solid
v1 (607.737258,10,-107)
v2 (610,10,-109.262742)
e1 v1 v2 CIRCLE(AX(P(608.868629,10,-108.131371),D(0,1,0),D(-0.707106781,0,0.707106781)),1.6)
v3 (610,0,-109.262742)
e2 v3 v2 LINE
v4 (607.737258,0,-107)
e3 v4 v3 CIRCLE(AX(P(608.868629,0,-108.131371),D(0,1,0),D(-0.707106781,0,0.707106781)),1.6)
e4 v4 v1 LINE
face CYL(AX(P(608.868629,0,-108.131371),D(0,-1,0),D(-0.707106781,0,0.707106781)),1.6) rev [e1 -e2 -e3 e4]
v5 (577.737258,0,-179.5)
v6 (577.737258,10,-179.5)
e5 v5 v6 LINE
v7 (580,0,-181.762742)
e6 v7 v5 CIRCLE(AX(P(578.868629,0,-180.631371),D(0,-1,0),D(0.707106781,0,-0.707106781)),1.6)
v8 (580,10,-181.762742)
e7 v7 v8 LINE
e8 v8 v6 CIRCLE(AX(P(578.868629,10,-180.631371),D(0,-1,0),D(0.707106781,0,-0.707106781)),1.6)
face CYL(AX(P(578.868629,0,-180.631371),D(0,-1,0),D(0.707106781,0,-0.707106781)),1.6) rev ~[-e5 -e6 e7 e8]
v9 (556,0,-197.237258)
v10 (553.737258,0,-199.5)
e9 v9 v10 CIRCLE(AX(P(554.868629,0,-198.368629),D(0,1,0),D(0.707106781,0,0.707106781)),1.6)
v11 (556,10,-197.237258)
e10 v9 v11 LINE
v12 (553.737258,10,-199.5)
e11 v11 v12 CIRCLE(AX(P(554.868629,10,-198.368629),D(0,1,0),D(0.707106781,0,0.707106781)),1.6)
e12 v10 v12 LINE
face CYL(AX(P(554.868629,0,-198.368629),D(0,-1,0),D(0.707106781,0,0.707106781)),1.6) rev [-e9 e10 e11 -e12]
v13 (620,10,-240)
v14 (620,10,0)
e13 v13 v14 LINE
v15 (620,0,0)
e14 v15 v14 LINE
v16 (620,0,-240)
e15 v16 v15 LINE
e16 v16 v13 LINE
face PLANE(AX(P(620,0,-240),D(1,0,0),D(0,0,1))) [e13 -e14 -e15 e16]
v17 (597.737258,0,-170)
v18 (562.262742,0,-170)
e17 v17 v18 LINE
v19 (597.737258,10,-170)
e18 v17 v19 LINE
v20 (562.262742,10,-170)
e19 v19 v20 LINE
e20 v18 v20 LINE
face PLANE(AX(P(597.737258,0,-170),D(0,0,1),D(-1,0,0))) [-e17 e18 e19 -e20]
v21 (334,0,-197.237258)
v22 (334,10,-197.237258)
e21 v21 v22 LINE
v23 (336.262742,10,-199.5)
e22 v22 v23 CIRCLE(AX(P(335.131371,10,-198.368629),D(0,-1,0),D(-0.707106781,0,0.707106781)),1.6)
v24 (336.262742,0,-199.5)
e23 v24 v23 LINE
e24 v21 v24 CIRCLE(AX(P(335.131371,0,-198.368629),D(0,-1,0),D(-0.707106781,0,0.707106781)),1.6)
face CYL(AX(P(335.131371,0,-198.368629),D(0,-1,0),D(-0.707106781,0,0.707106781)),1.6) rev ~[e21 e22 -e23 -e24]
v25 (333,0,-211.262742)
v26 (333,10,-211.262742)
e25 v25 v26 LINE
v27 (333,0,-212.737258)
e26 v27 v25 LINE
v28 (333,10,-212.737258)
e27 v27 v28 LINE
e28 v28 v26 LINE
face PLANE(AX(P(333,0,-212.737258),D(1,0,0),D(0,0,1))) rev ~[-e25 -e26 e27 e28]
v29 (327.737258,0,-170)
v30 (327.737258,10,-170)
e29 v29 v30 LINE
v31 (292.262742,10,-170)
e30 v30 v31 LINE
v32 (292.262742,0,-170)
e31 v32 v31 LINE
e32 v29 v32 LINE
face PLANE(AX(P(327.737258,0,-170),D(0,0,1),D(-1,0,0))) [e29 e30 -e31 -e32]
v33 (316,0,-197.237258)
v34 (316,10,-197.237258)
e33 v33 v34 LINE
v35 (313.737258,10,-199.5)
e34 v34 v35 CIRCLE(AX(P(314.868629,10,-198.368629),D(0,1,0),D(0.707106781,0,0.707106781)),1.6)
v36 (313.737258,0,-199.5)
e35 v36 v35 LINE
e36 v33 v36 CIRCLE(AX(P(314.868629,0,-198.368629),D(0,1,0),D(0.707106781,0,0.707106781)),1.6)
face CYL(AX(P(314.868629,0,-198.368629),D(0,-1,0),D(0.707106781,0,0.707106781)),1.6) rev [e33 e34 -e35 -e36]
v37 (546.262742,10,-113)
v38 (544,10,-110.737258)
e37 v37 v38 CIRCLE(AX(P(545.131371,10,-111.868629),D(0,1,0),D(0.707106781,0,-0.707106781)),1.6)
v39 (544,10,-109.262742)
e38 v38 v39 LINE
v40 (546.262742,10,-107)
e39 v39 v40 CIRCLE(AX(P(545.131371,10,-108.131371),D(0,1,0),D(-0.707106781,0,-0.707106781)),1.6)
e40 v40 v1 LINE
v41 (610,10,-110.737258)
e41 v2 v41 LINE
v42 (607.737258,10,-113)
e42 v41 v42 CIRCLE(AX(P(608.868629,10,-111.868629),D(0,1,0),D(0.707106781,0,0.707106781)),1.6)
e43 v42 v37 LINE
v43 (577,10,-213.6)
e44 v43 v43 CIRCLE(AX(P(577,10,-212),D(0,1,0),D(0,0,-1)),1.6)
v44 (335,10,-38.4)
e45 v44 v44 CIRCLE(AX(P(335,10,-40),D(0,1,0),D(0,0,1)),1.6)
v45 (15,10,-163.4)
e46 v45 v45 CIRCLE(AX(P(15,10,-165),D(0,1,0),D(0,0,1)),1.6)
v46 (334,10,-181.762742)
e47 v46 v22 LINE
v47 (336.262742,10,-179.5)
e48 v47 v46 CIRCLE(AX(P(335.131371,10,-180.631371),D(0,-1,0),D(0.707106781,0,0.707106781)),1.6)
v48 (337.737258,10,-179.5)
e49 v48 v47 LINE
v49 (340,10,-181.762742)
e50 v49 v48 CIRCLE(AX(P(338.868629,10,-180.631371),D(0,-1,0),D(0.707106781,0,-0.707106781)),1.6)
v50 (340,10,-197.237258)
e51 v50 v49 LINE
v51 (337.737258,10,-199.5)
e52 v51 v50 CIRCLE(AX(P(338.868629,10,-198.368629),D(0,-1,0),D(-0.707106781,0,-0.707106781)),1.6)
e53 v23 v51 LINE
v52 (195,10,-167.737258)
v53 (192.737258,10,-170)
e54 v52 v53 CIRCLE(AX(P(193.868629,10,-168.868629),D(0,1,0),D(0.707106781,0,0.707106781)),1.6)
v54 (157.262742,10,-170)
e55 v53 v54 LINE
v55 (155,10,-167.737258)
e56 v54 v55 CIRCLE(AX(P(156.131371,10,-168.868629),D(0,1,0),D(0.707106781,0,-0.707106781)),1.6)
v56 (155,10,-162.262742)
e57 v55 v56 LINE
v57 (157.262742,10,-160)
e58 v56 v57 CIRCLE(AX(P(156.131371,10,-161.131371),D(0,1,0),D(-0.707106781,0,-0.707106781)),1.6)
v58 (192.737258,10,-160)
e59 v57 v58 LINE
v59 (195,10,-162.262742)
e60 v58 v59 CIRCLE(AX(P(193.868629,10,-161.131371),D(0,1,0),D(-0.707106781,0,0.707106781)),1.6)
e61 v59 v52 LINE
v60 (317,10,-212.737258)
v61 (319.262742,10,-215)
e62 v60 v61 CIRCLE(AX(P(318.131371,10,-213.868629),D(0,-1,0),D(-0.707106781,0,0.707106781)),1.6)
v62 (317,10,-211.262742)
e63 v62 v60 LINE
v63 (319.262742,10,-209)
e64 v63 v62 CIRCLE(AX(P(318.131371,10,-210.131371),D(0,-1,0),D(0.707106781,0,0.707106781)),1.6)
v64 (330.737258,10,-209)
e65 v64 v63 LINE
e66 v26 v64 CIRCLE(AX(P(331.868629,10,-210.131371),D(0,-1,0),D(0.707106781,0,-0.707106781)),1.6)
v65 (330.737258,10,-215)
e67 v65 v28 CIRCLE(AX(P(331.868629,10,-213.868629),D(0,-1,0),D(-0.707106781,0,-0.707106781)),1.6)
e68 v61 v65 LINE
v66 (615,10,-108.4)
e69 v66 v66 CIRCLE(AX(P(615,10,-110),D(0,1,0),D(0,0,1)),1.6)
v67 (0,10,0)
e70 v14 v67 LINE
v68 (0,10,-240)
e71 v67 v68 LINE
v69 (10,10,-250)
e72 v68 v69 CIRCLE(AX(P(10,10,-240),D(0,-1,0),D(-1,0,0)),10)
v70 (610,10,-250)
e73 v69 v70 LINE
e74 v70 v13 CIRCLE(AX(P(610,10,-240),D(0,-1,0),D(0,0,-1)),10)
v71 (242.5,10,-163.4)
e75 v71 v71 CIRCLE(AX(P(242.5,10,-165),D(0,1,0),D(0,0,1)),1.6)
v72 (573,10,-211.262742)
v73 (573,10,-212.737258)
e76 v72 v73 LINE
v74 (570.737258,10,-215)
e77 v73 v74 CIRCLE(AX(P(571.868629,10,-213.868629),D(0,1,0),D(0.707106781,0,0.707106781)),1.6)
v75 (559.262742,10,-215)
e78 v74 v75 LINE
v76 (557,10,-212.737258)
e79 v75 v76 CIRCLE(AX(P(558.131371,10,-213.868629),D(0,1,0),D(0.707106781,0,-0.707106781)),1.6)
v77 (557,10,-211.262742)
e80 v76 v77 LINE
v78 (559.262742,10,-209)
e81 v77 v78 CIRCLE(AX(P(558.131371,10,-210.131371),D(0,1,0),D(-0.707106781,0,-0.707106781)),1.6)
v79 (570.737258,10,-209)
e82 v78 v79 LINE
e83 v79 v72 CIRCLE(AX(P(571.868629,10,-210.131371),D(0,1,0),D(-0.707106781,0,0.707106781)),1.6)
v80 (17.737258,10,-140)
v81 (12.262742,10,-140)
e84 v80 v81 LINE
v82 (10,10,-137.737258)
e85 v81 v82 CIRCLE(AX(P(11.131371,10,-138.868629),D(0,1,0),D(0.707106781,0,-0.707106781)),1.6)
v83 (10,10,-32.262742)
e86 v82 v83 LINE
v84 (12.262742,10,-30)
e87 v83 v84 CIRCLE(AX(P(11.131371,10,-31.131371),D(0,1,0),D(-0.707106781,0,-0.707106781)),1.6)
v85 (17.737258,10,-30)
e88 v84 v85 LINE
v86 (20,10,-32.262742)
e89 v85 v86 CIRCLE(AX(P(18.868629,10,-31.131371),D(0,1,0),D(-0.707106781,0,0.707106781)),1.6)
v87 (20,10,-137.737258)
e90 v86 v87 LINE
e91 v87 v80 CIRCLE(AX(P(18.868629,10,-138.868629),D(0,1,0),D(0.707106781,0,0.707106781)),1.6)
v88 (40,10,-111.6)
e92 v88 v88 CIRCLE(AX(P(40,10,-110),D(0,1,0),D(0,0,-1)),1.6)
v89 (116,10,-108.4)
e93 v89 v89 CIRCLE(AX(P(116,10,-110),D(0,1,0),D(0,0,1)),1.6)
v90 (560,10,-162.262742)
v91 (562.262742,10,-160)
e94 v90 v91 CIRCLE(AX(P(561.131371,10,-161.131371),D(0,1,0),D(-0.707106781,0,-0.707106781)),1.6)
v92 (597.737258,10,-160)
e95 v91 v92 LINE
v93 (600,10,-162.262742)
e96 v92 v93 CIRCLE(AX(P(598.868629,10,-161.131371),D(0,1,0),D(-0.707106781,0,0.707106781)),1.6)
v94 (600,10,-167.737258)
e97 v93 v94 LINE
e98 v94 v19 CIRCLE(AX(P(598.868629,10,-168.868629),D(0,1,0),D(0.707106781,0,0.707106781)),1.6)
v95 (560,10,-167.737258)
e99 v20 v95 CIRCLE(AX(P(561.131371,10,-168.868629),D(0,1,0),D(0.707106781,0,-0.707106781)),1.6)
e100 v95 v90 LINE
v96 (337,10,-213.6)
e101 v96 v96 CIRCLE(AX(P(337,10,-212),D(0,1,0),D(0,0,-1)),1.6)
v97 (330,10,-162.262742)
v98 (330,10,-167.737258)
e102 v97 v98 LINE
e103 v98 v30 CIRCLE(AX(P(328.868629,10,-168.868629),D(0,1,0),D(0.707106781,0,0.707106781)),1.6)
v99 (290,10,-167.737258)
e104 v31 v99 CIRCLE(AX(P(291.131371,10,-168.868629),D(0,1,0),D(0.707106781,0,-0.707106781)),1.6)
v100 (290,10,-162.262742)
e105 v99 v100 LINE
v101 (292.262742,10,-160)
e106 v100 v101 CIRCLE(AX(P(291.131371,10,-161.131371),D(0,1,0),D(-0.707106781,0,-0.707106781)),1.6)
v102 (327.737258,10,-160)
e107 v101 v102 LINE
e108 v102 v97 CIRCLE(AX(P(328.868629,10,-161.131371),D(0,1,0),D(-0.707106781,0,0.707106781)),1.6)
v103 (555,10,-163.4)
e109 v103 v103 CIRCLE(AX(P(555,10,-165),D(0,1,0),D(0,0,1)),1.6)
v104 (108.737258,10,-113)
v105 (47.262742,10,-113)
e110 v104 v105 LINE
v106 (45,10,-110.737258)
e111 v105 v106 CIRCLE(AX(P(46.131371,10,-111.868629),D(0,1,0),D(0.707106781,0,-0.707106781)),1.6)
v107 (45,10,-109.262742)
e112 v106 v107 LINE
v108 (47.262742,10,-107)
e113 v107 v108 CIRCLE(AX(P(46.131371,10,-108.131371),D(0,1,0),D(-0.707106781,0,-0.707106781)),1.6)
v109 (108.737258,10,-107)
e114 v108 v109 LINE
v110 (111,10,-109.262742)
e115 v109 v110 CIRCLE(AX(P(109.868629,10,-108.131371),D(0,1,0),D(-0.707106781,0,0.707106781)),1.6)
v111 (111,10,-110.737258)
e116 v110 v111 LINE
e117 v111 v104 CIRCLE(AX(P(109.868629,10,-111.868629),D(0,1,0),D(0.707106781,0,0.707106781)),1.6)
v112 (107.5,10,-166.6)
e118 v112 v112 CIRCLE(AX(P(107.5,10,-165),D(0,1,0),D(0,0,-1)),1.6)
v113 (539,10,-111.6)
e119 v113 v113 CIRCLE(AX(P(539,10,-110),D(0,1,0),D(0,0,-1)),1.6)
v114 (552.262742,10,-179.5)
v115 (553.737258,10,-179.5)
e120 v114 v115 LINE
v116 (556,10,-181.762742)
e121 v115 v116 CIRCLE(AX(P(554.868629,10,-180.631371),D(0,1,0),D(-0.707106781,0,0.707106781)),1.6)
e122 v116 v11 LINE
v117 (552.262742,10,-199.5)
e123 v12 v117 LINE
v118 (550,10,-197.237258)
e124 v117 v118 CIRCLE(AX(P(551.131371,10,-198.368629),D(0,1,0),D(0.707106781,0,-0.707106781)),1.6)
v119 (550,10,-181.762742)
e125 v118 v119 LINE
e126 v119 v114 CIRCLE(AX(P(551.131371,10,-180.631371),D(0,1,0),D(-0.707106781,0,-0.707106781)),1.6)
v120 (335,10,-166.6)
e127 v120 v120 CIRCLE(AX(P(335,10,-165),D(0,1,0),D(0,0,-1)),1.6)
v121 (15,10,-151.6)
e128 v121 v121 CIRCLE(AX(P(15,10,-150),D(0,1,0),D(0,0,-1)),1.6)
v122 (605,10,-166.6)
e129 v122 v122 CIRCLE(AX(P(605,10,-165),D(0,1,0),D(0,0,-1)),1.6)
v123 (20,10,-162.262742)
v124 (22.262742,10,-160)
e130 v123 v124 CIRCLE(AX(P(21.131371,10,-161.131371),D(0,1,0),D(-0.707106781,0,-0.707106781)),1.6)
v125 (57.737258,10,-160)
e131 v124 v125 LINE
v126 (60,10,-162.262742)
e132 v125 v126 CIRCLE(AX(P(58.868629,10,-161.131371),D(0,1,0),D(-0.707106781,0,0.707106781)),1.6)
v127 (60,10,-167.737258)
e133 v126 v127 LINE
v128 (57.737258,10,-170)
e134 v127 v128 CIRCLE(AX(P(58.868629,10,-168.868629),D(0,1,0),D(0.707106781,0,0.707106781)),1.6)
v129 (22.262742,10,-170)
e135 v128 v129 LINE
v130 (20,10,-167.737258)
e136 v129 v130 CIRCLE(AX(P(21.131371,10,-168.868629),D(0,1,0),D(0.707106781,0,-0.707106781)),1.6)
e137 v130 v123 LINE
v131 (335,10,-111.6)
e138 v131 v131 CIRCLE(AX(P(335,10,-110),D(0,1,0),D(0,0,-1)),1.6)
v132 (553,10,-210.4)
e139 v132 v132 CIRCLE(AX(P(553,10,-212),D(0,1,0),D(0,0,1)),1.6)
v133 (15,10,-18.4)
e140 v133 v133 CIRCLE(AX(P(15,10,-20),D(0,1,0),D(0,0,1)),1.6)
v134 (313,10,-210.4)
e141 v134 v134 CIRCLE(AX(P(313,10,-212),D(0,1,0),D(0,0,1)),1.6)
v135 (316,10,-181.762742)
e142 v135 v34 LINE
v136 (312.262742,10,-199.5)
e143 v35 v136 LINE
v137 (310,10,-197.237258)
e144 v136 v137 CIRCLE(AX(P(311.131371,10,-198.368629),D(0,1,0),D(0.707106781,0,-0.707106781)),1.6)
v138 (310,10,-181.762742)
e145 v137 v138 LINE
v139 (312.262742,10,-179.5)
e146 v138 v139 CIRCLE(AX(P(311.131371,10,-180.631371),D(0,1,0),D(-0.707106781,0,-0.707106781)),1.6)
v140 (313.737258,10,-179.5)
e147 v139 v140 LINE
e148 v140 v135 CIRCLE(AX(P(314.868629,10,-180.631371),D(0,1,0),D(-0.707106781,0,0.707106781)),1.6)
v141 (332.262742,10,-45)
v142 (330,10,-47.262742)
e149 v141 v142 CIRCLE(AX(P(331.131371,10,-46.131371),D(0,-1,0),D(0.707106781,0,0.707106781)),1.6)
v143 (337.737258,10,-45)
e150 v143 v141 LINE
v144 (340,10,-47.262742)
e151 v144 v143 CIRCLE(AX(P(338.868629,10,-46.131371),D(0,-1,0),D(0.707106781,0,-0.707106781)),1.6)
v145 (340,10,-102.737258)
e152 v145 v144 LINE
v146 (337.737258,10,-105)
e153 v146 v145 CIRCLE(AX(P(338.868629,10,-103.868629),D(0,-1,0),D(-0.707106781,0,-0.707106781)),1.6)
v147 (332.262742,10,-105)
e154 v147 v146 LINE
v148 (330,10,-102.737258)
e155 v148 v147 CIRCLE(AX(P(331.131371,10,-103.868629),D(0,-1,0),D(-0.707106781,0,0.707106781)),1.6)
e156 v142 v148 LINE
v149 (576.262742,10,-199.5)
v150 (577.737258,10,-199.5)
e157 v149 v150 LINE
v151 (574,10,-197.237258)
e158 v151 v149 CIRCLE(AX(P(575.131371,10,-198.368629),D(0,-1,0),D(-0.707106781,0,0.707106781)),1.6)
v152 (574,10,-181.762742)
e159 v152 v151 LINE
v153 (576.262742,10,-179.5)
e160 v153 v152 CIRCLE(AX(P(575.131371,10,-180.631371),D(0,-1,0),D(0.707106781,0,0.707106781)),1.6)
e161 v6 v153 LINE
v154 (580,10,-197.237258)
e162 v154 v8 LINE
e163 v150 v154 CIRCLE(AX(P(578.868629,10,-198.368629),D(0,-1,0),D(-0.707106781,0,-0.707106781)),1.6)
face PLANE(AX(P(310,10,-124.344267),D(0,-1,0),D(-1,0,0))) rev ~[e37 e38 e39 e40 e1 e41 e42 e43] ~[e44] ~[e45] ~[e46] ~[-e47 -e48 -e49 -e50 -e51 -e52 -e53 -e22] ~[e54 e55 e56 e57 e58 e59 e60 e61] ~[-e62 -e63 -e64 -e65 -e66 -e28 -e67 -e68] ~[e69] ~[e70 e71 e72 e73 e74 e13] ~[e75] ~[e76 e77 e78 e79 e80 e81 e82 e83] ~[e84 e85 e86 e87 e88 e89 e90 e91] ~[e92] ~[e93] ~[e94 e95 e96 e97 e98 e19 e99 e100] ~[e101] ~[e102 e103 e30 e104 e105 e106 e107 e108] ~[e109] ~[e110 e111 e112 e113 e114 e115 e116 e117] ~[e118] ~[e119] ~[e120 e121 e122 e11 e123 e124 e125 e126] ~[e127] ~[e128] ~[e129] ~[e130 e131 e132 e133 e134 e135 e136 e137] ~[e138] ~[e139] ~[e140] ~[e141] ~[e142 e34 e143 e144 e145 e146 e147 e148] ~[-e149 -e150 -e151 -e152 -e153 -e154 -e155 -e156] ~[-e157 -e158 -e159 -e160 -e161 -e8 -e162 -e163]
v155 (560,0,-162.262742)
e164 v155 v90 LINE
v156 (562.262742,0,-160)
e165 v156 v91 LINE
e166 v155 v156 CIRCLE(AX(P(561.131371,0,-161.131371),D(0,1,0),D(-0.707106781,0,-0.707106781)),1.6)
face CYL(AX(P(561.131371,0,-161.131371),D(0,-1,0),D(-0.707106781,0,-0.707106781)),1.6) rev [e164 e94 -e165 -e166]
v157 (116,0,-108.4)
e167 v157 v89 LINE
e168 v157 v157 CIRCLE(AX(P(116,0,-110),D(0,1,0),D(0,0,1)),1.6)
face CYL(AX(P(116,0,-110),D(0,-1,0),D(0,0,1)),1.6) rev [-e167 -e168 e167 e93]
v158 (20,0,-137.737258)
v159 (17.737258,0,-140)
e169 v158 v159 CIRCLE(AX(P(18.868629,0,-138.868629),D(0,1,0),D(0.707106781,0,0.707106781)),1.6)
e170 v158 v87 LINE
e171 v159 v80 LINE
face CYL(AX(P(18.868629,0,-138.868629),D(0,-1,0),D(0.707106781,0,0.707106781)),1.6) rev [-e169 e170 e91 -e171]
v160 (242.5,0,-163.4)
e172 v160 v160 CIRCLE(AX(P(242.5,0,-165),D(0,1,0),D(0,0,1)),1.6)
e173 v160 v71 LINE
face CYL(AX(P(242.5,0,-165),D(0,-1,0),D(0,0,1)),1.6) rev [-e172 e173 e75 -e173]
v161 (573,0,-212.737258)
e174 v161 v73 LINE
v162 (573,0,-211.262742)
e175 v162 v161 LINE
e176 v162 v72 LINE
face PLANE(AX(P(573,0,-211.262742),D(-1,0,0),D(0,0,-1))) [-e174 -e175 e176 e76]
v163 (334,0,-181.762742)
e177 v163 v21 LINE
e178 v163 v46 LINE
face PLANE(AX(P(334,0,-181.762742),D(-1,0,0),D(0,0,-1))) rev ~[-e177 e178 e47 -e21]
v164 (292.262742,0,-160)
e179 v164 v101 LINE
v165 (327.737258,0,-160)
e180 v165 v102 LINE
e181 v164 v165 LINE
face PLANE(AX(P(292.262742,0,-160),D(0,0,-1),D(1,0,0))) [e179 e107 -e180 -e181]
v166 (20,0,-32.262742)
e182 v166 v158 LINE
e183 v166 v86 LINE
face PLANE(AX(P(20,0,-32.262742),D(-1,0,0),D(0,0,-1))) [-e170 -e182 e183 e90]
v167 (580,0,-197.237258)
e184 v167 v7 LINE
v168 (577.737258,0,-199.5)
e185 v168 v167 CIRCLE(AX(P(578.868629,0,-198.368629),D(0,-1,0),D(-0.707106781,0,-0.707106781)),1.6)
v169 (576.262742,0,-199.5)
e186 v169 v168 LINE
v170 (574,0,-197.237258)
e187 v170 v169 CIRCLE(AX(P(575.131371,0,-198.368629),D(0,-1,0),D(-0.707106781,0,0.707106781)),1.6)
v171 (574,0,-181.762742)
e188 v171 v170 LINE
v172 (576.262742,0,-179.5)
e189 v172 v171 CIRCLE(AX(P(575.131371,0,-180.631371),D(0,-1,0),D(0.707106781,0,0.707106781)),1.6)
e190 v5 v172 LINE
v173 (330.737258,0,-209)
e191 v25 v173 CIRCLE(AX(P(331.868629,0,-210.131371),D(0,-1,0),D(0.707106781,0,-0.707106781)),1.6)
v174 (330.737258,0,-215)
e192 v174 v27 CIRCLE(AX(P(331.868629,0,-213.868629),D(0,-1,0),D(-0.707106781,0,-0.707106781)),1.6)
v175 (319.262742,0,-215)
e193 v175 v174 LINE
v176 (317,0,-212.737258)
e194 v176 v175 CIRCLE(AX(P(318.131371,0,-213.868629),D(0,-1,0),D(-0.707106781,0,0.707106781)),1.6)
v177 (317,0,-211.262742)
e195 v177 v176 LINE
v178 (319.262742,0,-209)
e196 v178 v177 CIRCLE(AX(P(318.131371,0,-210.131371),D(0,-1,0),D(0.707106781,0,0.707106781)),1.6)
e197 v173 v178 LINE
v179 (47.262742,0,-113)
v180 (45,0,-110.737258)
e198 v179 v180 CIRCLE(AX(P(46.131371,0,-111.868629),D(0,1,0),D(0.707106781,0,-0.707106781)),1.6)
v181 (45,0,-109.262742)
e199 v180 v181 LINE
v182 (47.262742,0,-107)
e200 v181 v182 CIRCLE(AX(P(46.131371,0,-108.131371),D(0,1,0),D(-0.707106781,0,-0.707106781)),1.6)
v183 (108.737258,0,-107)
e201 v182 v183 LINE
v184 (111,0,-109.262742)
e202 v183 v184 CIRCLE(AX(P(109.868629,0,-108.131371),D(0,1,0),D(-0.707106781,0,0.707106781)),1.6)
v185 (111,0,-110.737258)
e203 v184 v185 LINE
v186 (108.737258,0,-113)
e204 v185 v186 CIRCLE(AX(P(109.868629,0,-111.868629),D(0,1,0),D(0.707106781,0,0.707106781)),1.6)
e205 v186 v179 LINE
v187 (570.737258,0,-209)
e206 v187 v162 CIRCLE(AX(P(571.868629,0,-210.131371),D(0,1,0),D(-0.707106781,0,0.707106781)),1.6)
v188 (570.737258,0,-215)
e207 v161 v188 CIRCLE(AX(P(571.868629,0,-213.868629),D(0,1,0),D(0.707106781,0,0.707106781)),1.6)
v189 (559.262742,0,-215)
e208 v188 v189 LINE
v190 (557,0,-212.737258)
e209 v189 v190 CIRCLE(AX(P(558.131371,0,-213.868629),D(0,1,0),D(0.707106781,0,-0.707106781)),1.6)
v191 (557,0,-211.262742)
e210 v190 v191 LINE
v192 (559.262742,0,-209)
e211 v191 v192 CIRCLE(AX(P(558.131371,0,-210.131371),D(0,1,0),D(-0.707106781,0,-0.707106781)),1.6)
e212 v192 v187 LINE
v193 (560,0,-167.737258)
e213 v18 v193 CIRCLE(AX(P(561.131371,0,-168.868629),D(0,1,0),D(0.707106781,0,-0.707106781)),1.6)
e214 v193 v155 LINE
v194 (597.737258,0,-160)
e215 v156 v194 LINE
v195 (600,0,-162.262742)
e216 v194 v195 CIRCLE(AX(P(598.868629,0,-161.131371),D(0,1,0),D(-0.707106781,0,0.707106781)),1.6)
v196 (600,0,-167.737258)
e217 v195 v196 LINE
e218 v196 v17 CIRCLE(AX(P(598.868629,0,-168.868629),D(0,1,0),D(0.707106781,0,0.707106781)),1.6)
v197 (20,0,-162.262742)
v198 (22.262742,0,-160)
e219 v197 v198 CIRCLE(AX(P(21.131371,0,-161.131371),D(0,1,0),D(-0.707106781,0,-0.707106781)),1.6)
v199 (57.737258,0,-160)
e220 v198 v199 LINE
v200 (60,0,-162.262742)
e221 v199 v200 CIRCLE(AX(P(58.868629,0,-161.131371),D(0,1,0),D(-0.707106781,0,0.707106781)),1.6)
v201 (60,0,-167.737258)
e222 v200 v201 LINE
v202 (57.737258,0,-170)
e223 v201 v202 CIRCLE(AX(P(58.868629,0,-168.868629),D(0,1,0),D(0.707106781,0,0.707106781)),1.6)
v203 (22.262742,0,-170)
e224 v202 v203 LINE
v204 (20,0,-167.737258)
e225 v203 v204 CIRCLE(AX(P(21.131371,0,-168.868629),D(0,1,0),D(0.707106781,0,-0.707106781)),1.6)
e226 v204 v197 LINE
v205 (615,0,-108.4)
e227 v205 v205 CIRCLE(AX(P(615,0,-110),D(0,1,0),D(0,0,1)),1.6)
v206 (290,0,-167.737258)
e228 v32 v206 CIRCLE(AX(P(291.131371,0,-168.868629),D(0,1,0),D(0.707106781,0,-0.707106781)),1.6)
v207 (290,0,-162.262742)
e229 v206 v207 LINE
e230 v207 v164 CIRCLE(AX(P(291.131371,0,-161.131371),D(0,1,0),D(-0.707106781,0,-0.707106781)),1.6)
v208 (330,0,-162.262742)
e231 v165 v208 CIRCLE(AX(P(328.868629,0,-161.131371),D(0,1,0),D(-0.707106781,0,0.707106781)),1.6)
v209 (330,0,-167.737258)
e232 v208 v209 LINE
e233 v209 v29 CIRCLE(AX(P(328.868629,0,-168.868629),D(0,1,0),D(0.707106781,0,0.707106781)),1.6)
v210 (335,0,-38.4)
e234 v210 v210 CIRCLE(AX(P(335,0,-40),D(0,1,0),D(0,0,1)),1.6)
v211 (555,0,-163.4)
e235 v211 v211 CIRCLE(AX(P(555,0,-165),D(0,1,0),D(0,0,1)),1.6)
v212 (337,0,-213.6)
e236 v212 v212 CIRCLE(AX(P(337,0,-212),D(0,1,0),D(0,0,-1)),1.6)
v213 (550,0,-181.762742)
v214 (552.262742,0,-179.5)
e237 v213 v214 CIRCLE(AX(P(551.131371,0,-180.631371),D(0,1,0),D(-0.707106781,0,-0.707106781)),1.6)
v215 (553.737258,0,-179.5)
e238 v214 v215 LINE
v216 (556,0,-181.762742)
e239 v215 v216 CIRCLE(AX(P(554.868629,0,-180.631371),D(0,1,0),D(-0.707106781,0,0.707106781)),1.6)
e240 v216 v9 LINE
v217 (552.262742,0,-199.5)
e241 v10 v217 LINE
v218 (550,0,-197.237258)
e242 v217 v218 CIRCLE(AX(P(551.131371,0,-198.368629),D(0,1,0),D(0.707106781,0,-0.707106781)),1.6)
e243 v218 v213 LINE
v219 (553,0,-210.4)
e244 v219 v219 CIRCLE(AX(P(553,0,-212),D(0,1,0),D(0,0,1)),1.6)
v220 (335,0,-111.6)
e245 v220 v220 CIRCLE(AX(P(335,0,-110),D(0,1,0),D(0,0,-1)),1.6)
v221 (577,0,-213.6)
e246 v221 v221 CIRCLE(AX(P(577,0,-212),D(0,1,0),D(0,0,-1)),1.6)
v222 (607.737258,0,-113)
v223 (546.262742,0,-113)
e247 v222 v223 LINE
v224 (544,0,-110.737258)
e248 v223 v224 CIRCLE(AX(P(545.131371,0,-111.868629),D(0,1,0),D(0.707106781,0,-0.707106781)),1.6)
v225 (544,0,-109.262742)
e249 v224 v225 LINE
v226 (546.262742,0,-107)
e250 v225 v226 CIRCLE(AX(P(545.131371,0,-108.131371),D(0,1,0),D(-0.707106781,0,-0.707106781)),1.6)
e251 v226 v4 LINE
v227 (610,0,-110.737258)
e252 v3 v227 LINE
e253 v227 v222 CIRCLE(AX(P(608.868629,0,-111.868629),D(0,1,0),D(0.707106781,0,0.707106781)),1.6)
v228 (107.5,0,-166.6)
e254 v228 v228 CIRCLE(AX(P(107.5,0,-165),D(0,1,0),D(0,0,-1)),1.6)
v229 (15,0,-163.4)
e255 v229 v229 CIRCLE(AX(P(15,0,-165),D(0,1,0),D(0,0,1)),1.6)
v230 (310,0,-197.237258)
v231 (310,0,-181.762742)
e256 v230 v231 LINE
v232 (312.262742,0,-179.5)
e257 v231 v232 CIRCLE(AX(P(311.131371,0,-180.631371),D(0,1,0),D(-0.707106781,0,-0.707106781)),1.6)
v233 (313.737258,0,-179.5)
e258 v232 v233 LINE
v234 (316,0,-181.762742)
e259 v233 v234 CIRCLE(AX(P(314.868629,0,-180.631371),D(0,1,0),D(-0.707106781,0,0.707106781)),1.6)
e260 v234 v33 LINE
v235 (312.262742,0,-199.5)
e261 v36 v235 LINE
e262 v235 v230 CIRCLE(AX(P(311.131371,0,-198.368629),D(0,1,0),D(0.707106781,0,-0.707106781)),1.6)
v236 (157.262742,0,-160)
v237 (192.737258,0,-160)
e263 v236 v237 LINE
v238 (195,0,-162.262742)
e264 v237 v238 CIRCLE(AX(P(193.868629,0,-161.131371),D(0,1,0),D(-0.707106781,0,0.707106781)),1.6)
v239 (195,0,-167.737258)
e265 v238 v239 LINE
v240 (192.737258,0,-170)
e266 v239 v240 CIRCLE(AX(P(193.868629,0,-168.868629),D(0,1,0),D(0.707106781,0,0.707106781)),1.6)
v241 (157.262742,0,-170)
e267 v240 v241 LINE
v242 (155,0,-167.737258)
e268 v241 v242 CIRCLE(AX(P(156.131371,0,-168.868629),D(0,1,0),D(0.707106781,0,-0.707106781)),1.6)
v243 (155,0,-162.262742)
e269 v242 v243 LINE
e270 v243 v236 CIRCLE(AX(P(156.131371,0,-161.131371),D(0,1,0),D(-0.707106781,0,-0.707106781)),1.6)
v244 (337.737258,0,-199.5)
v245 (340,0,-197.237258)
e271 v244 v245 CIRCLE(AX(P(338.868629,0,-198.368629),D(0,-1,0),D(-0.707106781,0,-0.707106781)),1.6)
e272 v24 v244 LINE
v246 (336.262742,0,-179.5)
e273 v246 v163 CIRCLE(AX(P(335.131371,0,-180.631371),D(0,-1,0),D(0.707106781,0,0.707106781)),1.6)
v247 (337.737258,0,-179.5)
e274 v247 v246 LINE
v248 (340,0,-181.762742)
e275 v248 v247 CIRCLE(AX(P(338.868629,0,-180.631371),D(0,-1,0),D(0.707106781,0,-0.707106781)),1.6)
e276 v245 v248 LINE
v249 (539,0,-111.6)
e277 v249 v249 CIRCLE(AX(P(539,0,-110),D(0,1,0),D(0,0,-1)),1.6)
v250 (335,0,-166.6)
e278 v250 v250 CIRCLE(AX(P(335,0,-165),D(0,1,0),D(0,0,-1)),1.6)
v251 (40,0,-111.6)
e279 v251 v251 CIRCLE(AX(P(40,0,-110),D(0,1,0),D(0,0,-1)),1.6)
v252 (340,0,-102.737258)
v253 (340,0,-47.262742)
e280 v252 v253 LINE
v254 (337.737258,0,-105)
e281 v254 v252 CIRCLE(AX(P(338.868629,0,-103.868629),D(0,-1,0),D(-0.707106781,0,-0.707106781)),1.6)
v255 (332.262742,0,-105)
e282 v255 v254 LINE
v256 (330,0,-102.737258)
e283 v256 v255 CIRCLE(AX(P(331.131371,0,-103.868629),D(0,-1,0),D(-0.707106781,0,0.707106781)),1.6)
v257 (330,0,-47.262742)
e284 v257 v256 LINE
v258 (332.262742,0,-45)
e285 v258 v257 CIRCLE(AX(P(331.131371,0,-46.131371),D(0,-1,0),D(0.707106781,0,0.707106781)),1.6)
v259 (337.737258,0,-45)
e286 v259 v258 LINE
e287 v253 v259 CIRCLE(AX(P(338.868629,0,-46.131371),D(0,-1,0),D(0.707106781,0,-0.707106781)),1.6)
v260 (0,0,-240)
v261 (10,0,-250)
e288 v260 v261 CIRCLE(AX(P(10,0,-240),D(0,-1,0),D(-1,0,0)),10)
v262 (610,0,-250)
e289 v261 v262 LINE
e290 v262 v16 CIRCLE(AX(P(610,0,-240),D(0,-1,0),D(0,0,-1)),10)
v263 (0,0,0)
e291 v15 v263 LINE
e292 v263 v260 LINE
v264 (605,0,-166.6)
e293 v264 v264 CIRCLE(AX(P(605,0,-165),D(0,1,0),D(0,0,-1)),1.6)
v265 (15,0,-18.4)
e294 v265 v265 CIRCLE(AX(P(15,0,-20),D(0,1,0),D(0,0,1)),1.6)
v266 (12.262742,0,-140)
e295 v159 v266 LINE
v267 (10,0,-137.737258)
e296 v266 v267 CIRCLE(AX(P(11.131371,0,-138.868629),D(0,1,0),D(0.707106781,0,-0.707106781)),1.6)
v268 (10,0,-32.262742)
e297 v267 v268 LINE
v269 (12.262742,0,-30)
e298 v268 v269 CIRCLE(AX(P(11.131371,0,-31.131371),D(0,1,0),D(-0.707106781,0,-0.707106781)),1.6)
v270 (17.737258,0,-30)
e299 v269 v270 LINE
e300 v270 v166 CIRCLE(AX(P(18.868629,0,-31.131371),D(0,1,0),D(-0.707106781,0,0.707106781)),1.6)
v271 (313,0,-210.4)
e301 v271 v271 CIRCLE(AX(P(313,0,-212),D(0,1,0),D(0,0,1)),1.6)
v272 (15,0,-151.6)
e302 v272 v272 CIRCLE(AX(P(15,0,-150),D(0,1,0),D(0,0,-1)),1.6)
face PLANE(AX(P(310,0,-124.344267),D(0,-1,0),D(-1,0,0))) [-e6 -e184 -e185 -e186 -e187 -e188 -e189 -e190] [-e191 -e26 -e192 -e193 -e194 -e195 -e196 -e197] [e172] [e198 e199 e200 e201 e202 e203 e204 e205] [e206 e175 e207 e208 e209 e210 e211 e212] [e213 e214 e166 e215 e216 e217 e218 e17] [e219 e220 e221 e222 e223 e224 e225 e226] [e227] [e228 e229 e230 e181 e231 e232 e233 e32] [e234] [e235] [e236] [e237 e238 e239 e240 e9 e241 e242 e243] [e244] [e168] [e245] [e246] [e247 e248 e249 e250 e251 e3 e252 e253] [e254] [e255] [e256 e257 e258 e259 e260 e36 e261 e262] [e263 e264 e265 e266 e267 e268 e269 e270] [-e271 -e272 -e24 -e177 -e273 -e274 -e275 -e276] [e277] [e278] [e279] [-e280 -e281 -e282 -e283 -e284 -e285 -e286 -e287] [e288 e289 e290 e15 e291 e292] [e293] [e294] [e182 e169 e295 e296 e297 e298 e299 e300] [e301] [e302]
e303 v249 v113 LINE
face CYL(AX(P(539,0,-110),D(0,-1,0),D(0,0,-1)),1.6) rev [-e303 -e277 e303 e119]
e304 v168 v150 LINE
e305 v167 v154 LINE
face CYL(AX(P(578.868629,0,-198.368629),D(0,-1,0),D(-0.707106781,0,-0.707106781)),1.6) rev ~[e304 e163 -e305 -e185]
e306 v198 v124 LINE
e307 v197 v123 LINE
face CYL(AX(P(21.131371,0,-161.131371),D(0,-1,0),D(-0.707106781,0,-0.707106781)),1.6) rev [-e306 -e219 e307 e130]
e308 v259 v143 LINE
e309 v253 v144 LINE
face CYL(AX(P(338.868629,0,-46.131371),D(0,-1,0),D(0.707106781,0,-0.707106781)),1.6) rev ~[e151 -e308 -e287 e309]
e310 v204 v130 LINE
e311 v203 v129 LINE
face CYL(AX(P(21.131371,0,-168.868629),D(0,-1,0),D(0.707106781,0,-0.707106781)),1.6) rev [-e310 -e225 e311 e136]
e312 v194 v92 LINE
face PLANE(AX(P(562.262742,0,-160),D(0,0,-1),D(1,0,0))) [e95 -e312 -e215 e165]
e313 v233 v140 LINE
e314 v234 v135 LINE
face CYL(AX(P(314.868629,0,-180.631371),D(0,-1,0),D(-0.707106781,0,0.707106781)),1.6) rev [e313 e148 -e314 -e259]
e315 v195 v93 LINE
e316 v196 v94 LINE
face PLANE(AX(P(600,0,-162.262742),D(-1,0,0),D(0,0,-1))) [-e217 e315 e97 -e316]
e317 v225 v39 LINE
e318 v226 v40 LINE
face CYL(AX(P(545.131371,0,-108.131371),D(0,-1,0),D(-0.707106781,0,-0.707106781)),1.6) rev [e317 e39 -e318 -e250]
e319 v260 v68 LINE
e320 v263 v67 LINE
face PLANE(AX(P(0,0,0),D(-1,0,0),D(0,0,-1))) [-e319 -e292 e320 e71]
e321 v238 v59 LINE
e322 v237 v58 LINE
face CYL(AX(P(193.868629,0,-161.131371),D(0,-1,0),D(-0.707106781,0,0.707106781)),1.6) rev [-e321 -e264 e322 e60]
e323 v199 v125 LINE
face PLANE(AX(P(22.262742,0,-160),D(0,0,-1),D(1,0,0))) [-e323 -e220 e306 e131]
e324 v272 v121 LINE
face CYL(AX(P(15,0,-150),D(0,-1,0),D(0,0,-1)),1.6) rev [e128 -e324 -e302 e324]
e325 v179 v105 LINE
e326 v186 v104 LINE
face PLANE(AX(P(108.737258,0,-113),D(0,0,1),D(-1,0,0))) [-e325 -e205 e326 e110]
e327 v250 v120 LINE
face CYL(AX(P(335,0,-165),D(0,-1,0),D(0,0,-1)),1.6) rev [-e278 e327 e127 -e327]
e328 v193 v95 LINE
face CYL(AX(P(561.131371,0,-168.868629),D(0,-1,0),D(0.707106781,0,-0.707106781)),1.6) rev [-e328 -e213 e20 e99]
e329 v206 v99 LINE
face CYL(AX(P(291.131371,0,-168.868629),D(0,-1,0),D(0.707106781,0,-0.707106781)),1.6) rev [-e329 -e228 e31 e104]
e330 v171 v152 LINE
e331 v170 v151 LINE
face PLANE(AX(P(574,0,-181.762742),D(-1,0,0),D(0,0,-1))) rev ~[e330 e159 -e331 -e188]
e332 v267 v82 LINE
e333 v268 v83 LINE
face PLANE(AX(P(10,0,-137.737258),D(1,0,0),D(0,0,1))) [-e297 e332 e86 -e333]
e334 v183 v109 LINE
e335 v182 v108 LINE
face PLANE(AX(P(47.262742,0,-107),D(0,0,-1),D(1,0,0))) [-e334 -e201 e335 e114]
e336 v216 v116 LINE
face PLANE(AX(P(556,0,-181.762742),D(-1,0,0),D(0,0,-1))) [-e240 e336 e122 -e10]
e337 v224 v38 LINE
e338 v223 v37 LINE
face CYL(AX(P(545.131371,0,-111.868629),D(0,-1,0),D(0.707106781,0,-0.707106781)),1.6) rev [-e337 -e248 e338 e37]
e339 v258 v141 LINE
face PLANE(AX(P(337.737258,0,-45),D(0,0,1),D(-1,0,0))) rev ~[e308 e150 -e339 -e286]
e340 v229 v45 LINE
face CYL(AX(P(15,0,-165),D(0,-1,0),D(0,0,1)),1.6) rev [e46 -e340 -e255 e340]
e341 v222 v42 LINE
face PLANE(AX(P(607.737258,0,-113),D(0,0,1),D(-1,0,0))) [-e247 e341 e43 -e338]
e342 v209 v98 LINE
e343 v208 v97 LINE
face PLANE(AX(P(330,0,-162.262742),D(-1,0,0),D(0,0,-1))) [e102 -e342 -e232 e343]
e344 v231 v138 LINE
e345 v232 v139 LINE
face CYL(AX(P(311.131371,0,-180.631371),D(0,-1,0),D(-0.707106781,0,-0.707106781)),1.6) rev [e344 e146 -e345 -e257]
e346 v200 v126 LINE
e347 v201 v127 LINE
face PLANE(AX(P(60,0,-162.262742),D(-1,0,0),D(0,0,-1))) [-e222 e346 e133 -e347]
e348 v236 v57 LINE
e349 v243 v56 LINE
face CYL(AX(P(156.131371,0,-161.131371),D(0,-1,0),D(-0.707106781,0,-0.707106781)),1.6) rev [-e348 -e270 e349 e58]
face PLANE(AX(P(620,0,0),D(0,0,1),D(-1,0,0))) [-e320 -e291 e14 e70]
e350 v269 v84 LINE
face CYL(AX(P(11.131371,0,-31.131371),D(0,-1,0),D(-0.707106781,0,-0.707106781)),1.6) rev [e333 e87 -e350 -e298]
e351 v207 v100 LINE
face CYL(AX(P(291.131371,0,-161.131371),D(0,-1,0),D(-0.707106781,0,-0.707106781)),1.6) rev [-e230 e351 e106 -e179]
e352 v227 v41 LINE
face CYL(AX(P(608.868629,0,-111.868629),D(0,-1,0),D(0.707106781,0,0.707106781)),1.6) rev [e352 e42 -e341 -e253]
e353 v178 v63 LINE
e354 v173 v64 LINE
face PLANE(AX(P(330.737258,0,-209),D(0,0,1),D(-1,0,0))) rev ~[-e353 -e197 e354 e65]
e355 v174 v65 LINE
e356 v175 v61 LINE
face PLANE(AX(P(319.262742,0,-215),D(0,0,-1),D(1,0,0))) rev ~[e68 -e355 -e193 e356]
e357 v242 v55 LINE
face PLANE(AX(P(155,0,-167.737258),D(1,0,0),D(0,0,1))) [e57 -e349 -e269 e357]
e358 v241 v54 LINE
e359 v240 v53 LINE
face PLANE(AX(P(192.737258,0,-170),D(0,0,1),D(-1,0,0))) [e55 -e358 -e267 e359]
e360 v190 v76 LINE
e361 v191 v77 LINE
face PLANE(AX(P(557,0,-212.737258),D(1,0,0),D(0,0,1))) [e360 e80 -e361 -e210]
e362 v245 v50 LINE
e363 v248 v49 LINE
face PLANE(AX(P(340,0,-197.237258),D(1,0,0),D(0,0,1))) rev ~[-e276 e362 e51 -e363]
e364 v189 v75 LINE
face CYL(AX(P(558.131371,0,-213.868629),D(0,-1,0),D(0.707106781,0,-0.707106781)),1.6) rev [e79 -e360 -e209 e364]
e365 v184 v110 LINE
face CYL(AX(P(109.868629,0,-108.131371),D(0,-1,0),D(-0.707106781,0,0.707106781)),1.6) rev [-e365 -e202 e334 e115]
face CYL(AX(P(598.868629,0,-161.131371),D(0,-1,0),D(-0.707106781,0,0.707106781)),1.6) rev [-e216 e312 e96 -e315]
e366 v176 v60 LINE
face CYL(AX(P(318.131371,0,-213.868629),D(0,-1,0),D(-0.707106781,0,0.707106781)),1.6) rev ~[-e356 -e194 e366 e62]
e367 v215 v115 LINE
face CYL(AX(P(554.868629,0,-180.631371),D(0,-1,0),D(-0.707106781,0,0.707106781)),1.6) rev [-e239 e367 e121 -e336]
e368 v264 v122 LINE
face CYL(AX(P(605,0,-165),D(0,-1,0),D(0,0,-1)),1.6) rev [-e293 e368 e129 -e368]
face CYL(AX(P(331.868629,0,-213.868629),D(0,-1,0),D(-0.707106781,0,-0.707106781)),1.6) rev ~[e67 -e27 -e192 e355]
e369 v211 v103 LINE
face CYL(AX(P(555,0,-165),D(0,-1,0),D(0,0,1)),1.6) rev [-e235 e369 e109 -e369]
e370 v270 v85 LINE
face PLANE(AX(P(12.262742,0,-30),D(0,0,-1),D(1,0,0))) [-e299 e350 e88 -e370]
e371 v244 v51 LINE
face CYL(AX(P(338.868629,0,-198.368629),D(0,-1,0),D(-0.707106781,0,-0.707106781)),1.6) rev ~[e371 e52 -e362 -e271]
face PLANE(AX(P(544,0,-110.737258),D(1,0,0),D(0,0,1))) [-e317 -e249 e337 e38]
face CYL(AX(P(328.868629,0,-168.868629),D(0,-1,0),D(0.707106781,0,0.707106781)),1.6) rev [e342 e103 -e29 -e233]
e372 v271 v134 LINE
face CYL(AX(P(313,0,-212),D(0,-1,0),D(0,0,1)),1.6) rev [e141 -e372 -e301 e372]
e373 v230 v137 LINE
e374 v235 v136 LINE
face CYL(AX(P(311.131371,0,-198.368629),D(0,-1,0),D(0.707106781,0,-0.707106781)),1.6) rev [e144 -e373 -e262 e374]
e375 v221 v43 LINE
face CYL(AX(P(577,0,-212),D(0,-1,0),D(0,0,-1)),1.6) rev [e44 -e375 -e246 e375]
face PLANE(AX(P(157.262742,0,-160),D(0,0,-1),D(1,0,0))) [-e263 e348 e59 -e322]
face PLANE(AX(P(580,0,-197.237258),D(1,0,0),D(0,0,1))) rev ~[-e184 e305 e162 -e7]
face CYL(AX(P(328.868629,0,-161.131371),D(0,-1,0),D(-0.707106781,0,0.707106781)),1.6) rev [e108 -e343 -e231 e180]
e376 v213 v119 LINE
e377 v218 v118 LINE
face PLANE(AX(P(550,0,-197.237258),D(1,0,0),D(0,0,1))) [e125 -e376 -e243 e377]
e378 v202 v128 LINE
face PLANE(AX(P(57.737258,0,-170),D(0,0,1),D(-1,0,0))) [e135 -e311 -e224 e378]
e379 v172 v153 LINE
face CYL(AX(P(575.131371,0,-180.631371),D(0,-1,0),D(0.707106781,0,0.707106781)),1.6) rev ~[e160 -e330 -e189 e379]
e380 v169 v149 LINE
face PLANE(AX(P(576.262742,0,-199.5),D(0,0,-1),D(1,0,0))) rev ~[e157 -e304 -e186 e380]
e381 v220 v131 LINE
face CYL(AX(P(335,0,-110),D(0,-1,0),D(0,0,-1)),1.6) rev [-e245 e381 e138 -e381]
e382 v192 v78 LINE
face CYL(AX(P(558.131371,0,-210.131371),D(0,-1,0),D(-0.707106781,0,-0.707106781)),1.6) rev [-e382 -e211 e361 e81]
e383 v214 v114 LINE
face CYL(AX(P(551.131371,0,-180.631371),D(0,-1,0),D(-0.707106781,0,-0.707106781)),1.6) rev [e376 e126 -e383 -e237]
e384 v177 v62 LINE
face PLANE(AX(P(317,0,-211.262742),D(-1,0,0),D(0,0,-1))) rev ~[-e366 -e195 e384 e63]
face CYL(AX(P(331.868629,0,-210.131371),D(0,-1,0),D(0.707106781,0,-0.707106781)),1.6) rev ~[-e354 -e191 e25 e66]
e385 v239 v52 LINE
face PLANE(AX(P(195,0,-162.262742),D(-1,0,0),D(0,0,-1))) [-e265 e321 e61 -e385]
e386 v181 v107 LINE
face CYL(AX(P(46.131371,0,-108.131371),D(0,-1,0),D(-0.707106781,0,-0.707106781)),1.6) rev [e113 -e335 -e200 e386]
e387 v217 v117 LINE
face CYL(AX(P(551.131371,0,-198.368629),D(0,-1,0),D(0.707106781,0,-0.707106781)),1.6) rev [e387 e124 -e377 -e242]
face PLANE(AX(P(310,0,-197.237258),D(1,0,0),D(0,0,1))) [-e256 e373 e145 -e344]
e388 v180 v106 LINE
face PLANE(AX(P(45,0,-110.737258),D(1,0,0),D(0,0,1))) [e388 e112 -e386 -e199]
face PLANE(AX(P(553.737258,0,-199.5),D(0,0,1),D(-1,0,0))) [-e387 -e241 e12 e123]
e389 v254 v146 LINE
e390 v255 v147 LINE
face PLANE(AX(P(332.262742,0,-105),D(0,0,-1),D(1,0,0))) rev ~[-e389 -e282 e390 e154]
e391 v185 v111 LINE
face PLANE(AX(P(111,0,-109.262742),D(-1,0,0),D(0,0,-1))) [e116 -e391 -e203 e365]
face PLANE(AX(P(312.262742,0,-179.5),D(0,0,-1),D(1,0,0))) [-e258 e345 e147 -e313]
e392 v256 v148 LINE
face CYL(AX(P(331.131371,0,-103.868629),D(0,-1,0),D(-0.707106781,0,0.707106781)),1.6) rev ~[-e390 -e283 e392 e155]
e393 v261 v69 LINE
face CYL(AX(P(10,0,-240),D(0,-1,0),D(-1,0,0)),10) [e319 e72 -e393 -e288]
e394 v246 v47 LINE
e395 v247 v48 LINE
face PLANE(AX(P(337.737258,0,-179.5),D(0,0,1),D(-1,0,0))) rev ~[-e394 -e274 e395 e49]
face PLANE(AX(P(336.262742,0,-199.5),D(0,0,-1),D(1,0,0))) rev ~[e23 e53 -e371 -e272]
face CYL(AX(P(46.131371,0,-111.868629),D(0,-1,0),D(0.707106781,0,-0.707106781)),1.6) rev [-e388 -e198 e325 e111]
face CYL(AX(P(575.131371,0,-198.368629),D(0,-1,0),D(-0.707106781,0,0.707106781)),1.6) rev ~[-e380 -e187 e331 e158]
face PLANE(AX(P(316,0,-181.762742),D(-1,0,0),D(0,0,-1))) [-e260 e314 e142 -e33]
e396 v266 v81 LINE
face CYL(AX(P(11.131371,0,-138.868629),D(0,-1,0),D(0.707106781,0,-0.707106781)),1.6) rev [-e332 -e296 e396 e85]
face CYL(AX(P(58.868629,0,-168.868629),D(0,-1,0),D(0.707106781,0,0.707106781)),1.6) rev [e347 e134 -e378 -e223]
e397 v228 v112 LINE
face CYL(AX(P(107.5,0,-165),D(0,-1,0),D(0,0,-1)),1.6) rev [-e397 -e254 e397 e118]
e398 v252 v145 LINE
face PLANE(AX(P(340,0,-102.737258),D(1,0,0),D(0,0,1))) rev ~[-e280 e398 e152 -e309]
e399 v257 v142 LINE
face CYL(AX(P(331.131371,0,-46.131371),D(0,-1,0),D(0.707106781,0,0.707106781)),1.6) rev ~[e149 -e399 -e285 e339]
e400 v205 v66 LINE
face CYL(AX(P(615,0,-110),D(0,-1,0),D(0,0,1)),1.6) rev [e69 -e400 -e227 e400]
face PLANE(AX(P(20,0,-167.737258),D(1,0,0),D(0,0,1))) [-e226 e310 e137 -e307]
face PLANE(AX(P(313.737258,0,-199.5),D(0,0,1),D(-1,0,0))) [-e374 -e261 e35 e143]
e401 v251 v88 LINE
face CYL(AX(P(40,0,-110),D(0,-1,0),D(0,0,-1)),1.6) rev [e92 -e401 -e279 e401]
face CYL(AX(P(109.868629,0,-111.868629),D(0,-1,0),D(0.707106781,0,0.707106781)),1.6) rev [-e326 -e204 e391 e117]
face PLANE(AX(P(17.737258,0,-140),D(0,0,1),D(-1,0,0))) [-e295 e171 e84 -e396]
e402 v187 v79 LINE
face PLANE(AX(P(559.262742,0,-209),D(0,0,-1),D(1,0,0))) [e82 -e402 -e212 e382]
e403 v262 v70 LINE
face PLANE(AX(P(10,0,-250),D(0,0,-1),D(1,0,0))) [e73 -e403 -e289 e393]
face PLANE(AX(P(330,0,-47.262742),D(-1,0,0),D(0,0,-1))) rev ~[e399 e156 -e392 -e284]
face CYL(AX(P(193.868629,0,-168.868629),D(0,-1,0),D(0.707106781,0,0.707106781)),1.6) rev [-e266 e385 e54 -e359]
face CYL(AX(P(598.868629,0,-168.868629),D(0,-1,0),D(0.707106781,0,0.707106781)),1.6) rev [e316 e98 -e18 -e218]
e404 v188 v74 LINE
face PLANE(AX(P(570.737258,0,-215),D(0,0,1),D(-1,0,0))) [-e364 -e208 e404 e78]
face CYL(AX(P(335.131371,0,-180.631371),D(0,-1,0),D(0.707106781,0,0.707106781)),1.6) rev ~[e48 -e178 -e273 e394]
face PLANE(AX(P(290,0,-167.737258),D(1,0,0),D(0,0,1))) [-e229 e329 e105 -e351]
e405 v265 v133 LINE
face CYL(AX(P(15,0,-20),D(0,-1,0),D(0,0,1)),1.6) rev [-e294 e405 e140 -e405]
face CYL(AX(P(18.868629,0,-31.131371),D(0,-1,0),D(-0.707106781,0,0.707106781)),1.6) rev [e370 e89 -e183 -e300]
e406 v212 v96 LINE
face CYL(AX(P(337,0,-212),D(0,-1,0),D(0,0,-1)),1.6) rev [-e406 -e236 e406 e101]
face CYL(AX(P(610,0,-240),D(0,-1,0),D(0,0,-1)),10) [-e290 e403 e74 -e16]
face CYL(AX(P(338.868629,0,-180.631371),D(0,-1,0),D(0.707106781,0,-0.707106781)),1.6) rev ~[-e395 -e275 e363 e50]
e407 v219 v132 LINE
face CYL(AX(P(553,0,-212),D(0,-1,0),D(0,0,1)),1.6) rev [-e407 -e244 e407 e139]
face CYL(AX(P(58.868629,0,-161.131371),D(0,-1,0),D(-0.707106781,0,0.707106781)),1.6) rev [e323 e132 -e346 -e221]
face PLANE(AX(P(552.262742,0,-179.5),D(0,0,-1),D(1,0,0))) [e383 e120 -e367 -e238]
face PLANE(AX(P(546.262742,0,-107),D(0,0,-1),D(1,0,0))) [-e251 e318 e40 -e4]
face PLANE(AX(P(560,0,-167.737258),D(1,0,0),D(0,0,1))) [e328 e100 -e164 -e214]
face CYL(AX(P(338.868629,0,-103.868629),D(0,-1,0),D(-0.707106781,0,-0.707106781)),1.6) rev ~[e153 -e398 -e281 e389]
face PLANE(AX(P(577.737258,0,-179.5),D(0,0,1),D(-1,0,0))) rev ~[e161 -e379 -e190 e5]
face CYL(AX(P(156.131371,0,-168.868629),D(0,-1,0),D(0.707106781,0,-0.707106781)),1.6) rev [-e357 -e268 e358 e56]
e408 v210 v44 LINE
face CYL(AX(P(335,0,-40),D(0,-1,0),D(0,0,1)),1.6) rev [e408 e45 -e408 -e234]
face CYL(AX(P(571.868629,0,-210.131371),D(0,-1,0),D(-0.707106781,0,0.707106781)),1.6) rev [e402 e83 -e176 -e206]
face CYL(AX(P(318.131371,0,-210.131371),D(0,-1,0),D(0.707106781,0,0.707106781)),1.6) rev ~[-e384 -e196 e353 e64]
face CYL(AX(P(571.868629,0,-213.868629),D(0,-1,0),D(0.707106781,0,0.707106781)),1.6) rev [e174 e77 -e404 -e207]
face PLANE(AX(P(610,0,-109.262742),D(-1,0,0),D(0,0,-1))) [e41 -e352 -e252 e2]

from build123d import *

# Parameters (mm, degrees)
ESQUISSE1_R      = 1.6
EXTRUSION1_DEPTH = 10


with BuildPart() as part:
    # Esquisse1 → Extrusion1 (new body)
    with BuildSketch(Plane(origin=(0, 0, 0), x_dir=(1, 0, 0), z_dir=(0, 1, 0))):
        with BuildLine():
            Line((10, 250), (610, 250))
            ThreePointArc((610, 250), (617.071067812, 247.071067812), (620, 240))
            Line((620, 240), (620, 0))
            Line((620, 0), (0, 0))
            Line((0, 0), (0, 240))
            ThreePointArc((0, 240), (2.928932188, 247.071067812), (10, 250))
        make_face()
        with Locations(Location((313, 212, 0), (0, 0, 270))):  # turned: the seam where the file's is
            Circle(ESQUISSE1_R, mode=Mode.SUBTRACT)
        with Locations(Location((337, 212, 0), (0, 0, 90))):  # turned: the seam where the file's is
            Circle(ESQUISSE1_R, mode=Mode.SUBTRACT)
        with Locations(Location((553, 212, 0), (0, 0, 270))):  # turned: the seam where the file's is
            Circle(ESQUISSE1_R, mode=Mode.SUBTRACT)
        with Locations(Location((577, 212, 0), (0, 0, 90))):  # turned: the seam where the file's is
            Circle(ESQUISSE1_R, mode=Mode.SUBTRACT)
        with Locations(Location((555, 165, 0), (0, 0, 270))):  # turned: the seam where the file's is
            Circle(ESQUISSE1_R, mode=Mode.SUBTRACT)
        with Locations(Location((605, 165, 0), (0, 0, 90))):  # turned: the seam where the file's is
            Circle(ESQUISSE1_R, mode=Mode.SUBTRACT)
        with Locations(Location((335, 165, 0), (0, 0, 90))):  # turned: the seam where the file's is
            Circle(ESQUISSE1_R, mode=Mode.SUBTRACT)
        with Locations(Location((15, 165, 0), (0, 0, 270))):  # turned: the seam where the file's is
            Circle(ESQUISSE1_R, mode=Mode.SUBTRACT)
        with Locations(Location((242.5, 165, 0), (0, 0, 270))):  # turned: the seam where the file's is
            Circle(ESQUISSE1_R, mode=Mode.SUBTRACT)
        with Locations(Location((107.5, 165, 0), (0, 0, 90))):  # turned: the seam where the file's is
            Circle(ESQUISSE1_R, mode=Mode.SUBTRACT)
        with Locations(Location((15, 20, 0), (0, 0, 270))):  # turned: the seam where the file's is
            Circle(ESQUISSE1_R, mode=Mode.SUBTRACT)
        with Locations(Location((15, 150, 0), (0, 0, 90))):  # turned: the seam where the file's is
            Circle(ESQUISSE1_R, mode=Mode.SUBTRACT)
        with Locations(Location((335, 40, 0), (0, 0, 270))):  # turned: the seam where the file's is
            Circle(ESQUISSE1_R, mode=Mode.SUBTRACT)
        with Locations(Location((335, 110, 0), (0, 0, 90))):  # turned: the seam where the file's is
            Circle(ESQUISSE1_R, mode=Mode.SUBTRACT)
        with Locations(Location((615, 110, 0), (0, 0, 270))):  # turned: the seam where the file's is
            Circle(ESQUISSE1_R, mode=Mode.SUBTRACT)
        with Locations(Location((539, 110, 0), (0, 0, 90))):  # turned: the seam where the file's is
            Circle(ESQUISSE1_R, mode=Mode.SUBTRACT)
        with Locations(Location((116, 110, 0), (0, 0, 270))):  # turned: the seam where the file's is
            Circle(ESQUISSE1_R, mode=Mode.SUBTRACT)
        with Locations(Location((40, 110, 0), (0, 0, 90))):  # turned: the seam where the file's is
            Circle(ESQUISSE1_R, mode=Mode.SUBTRACT)
        with BuildLine():
            Line((317, 211.2627417), (317, 212.7372583))
            ThreePointArc((317, 212.7372583), (317, 215), (319.2627417, 215))
            Line((319.2627417, 215), (330.7372583, 215))
            ThreePointArc((330.7372583, 215), (333, 215), (333, 212.7372583))
            Line((333, 212.7372583), (333, 211.2627417))
            ThreePointArc((333, 211.2627417), (333, 209), (330.737258301, 209))
            Line((330.737258301, 209), (319.262741699, 209))
            ThreePointArc((319.262741699, 209), (316.999999999, 209.000000001), (317, 211.2627417))
        make_face(mode=Mode.SUBTRACT)
        with BuildLine():
            Line((312.262741699, 179.5), (313.737258301, 179.5))
            ThreePointArc((313.737258301, 179.5), (316.000000001, 179.500000001), (316, 181.762741701))
            Line((316, 181.762741701), (316, 197.237258299))
            ThreePointArc((316, 197.237258299), (316.000000001, 199.499999999), (313.737258301, 199.5))
            Line((313.737258301, 199.5), (312.262741699, 199.5))
            ThreePointArc((312.262741699, 199.5), (309.999999999, 199.499999999), (310, 197.237258299))
            Line((310, 197.237258299), (310, 181.762741701))
            ThreePointArc((310, 181.762741701), (309.999999999, 179.500000001), (312.262741699, 179.5))
        make_face(mode=Mode.SUBTRACT)
        with BuildLine():
            Line((334, 181.762741701), (334, 197.2372583))
            ThreePointArc((334, 197.2372583), (334, 199.5), (336.2627417, 199.5))
            Line((336.2627417, 199.5), (337.7372583, 199.5))
            ThreePointArc((337.7372583, 199.5), (340, 199.5), (340, 197.2372583))
            Line((340, 197.2372583), (340, 181.762741701))
            ThreePointArc((340, 181.762741701), (340.000000001, 179.500000001), (337.737258301, 179.5))
            Line((337.737258301, 179.5), (336.262741699, 179.5))
            ThreePointArc((336.262741699, 179.5), (333.999999999, 179.500000001), (334, 181.762741701))
        make_face(mode=Mode.SUBTRACT)
        with BuildLine():
            Line((552.2627417, 179.5), (553.7372583, 179.5))
            ThreePointArc((553.7372583, 179.5), (556, 179.5), (556, 181.7627417))
            Line((556, 181.7627417), (556, 197.2372583))
            ThreePointArc((556, 197.2372583), (556, 199.5), (553.7372583, 199.5))
            Line((553.7372583, 199.5), (552.2627417, 199.5))
            ThreePointArc((552.2627417, 199.5), (550, 199.5), (550, 197.2372583))
            Line((550, 197.2372583), (550, 181.7627417))
            ThreePointArc((550, 181.7627417), (550, 179.5), (552.2627417, 179.5))
        make_face(mode=Mode.SUBTRACT)
        with BuildLine():
            Line((574, 181.7627417), (574, 197.2372583))
            ThreePointArc((574, 197.2372583), (574, 199.5), (576.2627417, 199.5))
            Line((576.2627417, 199.5), (577.7372583, 199.5))
            ThreePointArc((577.7372583, 199.5), (580, 199.5), (580, 197.2372583))
            Line((580, 197.2372583), (580, 181.7627417))
            ThreePointArc((580, 181.7627417), (580, 179.5), (577.7372583, 179.5))
            Line((577.7372583, 179.5), (576.2627417, 179.5))
            ThreePointArc((576.2627417, 179.5), (574, 179.5), (574, 181.7627417))
        make_face(mode=Mode.SUBTRACT)
        with BuildLine():
            Line((559.2627417, 209), (570.7372583, 209))
            ThreePointArc((570.7372583, 209), (573, 209), (573, 211.2627417))
            Line((573, 211.2627417), (573, 212.7372583))
            ThreePointArc((573, 212.7372583), (573, 215), (570.7372583, 215))
            Line((570.7372583, 215), (559.2627417, 215))
            ThreePointArc((559.2627417, 215), (557, 215), (557, 212.7372583))
            Line((557, 212.7372583), (557, 211.2627417))
            ThreePointArc((557, 211.2627417), (557, 209), (559.2627417, 209))
        make_face(mode=Mode.SUBTRACT)
        with BuildLine():
            Line((560, 167.7372583), (560, 162.2627417))
            ThreePointArc((560, 162.2627417), (560, 160), (562.2627417, 160))
            Line((562.2627417, 160), (597.7372583, 160))
            ThreePointArc((597.7372583, 160), (600, 160), (600, 162.2627417))
            Line((600, 162.2627417), (600, 167.7372583))
            ThreePointArc((600, 167.7372583), (600, 170), (597.7372583, 170))
            Line((597.7372583, 170), (562.2627417, 170))
            ThreePointArc((562.2627417, 170), (560, 170), (560, 167.7372583))
        make_face(mode=Mode.SUBTRACT)
        with BuildLine():
            Line((292.2627417, 160), (327.7372583, 160))
            ThreePointArc((327.7372583, 160), (330, 160), (330, 162.2627417))
            Line((330, 162.2627417), (330, 167.7372583))
            ThreePointArc((330, 167.7372583), (330, 170), (327.7372583, 170))
            Line((327.7372583, 170), (292.2627417, 170))
            ThreePointArc((292.2627417, 170), (290, 170), (290, 167.7372583))
            Line((290, 167.7372583), (290, 162.2627417))
            ThreePointArc((290, 162.2627417), (290, 160), (292.2627417, 160))
        make_face(mode=Mode.SUBTRACT)
        with BuildLine():
            Line((20, 167.7372583), (20, 162.2627417))
            ThreePointArc((20, 162.2627417), (20, 160), (22.2627417, 160))
            Line((22.2627417, 160), (57.7372583, 160))
            ThreePointArc((57.7372583, 160), (60, 160), (60, 162.2627417))
            Line((60, 162.2627417), (60, 167.7372583))
            ThreePointArc((60, 167.7372583), (60, 170), (57.7372583, 170))
            Line((57.7372583, 170), (22.2627417, 170))
            ThreePointArc((22.2627417, 170), (20, 170), (20, 167.7372583))
        make_face(mode=Mode.SUBTRACT)
        with BuildLine():
            Line((155, 167.7372583), (155, 162.2627417))
            ThreePointArc((155, 162.2627417), (155, 160), (157.2627417, 160))
            Line((157.2627417, 160), (192.7372583, 160))
            ThreePointArc((192.7372583, 160), (195, 160), (195, 162.2627417))
            Line((195, 162.2627417), (195, 167.7372583))
            ThreePointArc((195, 167.7372583), (195, 170), (192.7372583, 170))
            Line((192.7372583, 170), (157.2627417, 170))
            ThreePointArc((157.2627417, 170), (155, 170), (155, 167.7372583))
        make_face(mode=Mode.SUBTRACT)
        with BuildLine():
            Line((12.2627417, 30), (17.7372583, 30))
            ThreePointArc((17.7372583, 30), (20, 30), (20, 32.2627417))
            Line((20, 32.2627417), (20, 137.7372583))
            ThreePointArc((20, 137.7372583), (20, 140), (17.7372583, 140))
            Line((17.7372583, 140), (12.2627417, 140))
            ThreePointArc((12.2627417, 140), (10, 140), (10, 137.7372583))
            Line((10, 137.7372583), (10, 32.2627417))
            ThreePointArc((10, 32.2627417), (10, 30), (12.2627417, 30))
        make_face(mode=Mode.SUBTRACT)
        with BuildLine():
            Line((337.7372583, 45), (332.2627417, 45))
            ThreePointArc((332.2627417, 45), (330, 45), (330, 47.2627417))
            Line((330, 47.2627417), (330, 102.7372583))
            ThreePointArc((330, 102.7372583), (330, 105), (332.2627417, 105))
            Line((332.2627417, 105), (337.7372583, 105))
            ThreePointArc((337.7372583, 105), (340, 105), (340, 102.7372583))
            Line((340, 102.7372583), (340, 47.2627417))
            ThreePointArc((340, 47.2627417), (340, 45), (337.7372583, 45))
        make_face(mode=Mode.SUBTRACT)
        with BuildLine():
            Line((610, 109.2627417), (610, 110.7372583))
            ThreePointArc((610, 110.7372583), (610, 113), (607.7372583, 113))
            Line((607.7372583, 113), (546.2627417, 113))
            ThreePointArc((546.2627417, 113), (544, 113), (544, 110.7372583))
            Line((544, 110.7372583), (544, 109.2627417))
            ThreePointArc((544, 109.2627417), (544, 107), (546.2627417, 107))
            Line((546.2627417, 107), (607.7372583, 107))
            ThreePointArc((607.7372583, 107), (610, 107), (610, 109.2627417))
        make_face(mode=Mode.SUBTRACT)
        with BuildLine():
            Line((108.7372583, 113), (47.2627417, 113))
            ThreePointArc((47.2627417, 113), (45, 113), (45, 110.7372583))
            Line((45, 110.7372583), (45, 109.2627417))
            ThreePointArc((45, 109.2627417), (45, 107), (47.2627417, 107))
            Line((47.2627417, 107), (108.7372583, 107))
            ThreePointArc((108.7372583, 107), (111, 107), (111, 109.2627417))
            Line((111, 109.2627417), (111, 110.7372583))
            ThreePointArc((111, 110.7372583), (111, 113), (108.7372583, 113))
        make_face(mode=Mode.SUBTRACT)
    extrude(amount=EXTRUSION1_DEPTH)


solid = part.part
